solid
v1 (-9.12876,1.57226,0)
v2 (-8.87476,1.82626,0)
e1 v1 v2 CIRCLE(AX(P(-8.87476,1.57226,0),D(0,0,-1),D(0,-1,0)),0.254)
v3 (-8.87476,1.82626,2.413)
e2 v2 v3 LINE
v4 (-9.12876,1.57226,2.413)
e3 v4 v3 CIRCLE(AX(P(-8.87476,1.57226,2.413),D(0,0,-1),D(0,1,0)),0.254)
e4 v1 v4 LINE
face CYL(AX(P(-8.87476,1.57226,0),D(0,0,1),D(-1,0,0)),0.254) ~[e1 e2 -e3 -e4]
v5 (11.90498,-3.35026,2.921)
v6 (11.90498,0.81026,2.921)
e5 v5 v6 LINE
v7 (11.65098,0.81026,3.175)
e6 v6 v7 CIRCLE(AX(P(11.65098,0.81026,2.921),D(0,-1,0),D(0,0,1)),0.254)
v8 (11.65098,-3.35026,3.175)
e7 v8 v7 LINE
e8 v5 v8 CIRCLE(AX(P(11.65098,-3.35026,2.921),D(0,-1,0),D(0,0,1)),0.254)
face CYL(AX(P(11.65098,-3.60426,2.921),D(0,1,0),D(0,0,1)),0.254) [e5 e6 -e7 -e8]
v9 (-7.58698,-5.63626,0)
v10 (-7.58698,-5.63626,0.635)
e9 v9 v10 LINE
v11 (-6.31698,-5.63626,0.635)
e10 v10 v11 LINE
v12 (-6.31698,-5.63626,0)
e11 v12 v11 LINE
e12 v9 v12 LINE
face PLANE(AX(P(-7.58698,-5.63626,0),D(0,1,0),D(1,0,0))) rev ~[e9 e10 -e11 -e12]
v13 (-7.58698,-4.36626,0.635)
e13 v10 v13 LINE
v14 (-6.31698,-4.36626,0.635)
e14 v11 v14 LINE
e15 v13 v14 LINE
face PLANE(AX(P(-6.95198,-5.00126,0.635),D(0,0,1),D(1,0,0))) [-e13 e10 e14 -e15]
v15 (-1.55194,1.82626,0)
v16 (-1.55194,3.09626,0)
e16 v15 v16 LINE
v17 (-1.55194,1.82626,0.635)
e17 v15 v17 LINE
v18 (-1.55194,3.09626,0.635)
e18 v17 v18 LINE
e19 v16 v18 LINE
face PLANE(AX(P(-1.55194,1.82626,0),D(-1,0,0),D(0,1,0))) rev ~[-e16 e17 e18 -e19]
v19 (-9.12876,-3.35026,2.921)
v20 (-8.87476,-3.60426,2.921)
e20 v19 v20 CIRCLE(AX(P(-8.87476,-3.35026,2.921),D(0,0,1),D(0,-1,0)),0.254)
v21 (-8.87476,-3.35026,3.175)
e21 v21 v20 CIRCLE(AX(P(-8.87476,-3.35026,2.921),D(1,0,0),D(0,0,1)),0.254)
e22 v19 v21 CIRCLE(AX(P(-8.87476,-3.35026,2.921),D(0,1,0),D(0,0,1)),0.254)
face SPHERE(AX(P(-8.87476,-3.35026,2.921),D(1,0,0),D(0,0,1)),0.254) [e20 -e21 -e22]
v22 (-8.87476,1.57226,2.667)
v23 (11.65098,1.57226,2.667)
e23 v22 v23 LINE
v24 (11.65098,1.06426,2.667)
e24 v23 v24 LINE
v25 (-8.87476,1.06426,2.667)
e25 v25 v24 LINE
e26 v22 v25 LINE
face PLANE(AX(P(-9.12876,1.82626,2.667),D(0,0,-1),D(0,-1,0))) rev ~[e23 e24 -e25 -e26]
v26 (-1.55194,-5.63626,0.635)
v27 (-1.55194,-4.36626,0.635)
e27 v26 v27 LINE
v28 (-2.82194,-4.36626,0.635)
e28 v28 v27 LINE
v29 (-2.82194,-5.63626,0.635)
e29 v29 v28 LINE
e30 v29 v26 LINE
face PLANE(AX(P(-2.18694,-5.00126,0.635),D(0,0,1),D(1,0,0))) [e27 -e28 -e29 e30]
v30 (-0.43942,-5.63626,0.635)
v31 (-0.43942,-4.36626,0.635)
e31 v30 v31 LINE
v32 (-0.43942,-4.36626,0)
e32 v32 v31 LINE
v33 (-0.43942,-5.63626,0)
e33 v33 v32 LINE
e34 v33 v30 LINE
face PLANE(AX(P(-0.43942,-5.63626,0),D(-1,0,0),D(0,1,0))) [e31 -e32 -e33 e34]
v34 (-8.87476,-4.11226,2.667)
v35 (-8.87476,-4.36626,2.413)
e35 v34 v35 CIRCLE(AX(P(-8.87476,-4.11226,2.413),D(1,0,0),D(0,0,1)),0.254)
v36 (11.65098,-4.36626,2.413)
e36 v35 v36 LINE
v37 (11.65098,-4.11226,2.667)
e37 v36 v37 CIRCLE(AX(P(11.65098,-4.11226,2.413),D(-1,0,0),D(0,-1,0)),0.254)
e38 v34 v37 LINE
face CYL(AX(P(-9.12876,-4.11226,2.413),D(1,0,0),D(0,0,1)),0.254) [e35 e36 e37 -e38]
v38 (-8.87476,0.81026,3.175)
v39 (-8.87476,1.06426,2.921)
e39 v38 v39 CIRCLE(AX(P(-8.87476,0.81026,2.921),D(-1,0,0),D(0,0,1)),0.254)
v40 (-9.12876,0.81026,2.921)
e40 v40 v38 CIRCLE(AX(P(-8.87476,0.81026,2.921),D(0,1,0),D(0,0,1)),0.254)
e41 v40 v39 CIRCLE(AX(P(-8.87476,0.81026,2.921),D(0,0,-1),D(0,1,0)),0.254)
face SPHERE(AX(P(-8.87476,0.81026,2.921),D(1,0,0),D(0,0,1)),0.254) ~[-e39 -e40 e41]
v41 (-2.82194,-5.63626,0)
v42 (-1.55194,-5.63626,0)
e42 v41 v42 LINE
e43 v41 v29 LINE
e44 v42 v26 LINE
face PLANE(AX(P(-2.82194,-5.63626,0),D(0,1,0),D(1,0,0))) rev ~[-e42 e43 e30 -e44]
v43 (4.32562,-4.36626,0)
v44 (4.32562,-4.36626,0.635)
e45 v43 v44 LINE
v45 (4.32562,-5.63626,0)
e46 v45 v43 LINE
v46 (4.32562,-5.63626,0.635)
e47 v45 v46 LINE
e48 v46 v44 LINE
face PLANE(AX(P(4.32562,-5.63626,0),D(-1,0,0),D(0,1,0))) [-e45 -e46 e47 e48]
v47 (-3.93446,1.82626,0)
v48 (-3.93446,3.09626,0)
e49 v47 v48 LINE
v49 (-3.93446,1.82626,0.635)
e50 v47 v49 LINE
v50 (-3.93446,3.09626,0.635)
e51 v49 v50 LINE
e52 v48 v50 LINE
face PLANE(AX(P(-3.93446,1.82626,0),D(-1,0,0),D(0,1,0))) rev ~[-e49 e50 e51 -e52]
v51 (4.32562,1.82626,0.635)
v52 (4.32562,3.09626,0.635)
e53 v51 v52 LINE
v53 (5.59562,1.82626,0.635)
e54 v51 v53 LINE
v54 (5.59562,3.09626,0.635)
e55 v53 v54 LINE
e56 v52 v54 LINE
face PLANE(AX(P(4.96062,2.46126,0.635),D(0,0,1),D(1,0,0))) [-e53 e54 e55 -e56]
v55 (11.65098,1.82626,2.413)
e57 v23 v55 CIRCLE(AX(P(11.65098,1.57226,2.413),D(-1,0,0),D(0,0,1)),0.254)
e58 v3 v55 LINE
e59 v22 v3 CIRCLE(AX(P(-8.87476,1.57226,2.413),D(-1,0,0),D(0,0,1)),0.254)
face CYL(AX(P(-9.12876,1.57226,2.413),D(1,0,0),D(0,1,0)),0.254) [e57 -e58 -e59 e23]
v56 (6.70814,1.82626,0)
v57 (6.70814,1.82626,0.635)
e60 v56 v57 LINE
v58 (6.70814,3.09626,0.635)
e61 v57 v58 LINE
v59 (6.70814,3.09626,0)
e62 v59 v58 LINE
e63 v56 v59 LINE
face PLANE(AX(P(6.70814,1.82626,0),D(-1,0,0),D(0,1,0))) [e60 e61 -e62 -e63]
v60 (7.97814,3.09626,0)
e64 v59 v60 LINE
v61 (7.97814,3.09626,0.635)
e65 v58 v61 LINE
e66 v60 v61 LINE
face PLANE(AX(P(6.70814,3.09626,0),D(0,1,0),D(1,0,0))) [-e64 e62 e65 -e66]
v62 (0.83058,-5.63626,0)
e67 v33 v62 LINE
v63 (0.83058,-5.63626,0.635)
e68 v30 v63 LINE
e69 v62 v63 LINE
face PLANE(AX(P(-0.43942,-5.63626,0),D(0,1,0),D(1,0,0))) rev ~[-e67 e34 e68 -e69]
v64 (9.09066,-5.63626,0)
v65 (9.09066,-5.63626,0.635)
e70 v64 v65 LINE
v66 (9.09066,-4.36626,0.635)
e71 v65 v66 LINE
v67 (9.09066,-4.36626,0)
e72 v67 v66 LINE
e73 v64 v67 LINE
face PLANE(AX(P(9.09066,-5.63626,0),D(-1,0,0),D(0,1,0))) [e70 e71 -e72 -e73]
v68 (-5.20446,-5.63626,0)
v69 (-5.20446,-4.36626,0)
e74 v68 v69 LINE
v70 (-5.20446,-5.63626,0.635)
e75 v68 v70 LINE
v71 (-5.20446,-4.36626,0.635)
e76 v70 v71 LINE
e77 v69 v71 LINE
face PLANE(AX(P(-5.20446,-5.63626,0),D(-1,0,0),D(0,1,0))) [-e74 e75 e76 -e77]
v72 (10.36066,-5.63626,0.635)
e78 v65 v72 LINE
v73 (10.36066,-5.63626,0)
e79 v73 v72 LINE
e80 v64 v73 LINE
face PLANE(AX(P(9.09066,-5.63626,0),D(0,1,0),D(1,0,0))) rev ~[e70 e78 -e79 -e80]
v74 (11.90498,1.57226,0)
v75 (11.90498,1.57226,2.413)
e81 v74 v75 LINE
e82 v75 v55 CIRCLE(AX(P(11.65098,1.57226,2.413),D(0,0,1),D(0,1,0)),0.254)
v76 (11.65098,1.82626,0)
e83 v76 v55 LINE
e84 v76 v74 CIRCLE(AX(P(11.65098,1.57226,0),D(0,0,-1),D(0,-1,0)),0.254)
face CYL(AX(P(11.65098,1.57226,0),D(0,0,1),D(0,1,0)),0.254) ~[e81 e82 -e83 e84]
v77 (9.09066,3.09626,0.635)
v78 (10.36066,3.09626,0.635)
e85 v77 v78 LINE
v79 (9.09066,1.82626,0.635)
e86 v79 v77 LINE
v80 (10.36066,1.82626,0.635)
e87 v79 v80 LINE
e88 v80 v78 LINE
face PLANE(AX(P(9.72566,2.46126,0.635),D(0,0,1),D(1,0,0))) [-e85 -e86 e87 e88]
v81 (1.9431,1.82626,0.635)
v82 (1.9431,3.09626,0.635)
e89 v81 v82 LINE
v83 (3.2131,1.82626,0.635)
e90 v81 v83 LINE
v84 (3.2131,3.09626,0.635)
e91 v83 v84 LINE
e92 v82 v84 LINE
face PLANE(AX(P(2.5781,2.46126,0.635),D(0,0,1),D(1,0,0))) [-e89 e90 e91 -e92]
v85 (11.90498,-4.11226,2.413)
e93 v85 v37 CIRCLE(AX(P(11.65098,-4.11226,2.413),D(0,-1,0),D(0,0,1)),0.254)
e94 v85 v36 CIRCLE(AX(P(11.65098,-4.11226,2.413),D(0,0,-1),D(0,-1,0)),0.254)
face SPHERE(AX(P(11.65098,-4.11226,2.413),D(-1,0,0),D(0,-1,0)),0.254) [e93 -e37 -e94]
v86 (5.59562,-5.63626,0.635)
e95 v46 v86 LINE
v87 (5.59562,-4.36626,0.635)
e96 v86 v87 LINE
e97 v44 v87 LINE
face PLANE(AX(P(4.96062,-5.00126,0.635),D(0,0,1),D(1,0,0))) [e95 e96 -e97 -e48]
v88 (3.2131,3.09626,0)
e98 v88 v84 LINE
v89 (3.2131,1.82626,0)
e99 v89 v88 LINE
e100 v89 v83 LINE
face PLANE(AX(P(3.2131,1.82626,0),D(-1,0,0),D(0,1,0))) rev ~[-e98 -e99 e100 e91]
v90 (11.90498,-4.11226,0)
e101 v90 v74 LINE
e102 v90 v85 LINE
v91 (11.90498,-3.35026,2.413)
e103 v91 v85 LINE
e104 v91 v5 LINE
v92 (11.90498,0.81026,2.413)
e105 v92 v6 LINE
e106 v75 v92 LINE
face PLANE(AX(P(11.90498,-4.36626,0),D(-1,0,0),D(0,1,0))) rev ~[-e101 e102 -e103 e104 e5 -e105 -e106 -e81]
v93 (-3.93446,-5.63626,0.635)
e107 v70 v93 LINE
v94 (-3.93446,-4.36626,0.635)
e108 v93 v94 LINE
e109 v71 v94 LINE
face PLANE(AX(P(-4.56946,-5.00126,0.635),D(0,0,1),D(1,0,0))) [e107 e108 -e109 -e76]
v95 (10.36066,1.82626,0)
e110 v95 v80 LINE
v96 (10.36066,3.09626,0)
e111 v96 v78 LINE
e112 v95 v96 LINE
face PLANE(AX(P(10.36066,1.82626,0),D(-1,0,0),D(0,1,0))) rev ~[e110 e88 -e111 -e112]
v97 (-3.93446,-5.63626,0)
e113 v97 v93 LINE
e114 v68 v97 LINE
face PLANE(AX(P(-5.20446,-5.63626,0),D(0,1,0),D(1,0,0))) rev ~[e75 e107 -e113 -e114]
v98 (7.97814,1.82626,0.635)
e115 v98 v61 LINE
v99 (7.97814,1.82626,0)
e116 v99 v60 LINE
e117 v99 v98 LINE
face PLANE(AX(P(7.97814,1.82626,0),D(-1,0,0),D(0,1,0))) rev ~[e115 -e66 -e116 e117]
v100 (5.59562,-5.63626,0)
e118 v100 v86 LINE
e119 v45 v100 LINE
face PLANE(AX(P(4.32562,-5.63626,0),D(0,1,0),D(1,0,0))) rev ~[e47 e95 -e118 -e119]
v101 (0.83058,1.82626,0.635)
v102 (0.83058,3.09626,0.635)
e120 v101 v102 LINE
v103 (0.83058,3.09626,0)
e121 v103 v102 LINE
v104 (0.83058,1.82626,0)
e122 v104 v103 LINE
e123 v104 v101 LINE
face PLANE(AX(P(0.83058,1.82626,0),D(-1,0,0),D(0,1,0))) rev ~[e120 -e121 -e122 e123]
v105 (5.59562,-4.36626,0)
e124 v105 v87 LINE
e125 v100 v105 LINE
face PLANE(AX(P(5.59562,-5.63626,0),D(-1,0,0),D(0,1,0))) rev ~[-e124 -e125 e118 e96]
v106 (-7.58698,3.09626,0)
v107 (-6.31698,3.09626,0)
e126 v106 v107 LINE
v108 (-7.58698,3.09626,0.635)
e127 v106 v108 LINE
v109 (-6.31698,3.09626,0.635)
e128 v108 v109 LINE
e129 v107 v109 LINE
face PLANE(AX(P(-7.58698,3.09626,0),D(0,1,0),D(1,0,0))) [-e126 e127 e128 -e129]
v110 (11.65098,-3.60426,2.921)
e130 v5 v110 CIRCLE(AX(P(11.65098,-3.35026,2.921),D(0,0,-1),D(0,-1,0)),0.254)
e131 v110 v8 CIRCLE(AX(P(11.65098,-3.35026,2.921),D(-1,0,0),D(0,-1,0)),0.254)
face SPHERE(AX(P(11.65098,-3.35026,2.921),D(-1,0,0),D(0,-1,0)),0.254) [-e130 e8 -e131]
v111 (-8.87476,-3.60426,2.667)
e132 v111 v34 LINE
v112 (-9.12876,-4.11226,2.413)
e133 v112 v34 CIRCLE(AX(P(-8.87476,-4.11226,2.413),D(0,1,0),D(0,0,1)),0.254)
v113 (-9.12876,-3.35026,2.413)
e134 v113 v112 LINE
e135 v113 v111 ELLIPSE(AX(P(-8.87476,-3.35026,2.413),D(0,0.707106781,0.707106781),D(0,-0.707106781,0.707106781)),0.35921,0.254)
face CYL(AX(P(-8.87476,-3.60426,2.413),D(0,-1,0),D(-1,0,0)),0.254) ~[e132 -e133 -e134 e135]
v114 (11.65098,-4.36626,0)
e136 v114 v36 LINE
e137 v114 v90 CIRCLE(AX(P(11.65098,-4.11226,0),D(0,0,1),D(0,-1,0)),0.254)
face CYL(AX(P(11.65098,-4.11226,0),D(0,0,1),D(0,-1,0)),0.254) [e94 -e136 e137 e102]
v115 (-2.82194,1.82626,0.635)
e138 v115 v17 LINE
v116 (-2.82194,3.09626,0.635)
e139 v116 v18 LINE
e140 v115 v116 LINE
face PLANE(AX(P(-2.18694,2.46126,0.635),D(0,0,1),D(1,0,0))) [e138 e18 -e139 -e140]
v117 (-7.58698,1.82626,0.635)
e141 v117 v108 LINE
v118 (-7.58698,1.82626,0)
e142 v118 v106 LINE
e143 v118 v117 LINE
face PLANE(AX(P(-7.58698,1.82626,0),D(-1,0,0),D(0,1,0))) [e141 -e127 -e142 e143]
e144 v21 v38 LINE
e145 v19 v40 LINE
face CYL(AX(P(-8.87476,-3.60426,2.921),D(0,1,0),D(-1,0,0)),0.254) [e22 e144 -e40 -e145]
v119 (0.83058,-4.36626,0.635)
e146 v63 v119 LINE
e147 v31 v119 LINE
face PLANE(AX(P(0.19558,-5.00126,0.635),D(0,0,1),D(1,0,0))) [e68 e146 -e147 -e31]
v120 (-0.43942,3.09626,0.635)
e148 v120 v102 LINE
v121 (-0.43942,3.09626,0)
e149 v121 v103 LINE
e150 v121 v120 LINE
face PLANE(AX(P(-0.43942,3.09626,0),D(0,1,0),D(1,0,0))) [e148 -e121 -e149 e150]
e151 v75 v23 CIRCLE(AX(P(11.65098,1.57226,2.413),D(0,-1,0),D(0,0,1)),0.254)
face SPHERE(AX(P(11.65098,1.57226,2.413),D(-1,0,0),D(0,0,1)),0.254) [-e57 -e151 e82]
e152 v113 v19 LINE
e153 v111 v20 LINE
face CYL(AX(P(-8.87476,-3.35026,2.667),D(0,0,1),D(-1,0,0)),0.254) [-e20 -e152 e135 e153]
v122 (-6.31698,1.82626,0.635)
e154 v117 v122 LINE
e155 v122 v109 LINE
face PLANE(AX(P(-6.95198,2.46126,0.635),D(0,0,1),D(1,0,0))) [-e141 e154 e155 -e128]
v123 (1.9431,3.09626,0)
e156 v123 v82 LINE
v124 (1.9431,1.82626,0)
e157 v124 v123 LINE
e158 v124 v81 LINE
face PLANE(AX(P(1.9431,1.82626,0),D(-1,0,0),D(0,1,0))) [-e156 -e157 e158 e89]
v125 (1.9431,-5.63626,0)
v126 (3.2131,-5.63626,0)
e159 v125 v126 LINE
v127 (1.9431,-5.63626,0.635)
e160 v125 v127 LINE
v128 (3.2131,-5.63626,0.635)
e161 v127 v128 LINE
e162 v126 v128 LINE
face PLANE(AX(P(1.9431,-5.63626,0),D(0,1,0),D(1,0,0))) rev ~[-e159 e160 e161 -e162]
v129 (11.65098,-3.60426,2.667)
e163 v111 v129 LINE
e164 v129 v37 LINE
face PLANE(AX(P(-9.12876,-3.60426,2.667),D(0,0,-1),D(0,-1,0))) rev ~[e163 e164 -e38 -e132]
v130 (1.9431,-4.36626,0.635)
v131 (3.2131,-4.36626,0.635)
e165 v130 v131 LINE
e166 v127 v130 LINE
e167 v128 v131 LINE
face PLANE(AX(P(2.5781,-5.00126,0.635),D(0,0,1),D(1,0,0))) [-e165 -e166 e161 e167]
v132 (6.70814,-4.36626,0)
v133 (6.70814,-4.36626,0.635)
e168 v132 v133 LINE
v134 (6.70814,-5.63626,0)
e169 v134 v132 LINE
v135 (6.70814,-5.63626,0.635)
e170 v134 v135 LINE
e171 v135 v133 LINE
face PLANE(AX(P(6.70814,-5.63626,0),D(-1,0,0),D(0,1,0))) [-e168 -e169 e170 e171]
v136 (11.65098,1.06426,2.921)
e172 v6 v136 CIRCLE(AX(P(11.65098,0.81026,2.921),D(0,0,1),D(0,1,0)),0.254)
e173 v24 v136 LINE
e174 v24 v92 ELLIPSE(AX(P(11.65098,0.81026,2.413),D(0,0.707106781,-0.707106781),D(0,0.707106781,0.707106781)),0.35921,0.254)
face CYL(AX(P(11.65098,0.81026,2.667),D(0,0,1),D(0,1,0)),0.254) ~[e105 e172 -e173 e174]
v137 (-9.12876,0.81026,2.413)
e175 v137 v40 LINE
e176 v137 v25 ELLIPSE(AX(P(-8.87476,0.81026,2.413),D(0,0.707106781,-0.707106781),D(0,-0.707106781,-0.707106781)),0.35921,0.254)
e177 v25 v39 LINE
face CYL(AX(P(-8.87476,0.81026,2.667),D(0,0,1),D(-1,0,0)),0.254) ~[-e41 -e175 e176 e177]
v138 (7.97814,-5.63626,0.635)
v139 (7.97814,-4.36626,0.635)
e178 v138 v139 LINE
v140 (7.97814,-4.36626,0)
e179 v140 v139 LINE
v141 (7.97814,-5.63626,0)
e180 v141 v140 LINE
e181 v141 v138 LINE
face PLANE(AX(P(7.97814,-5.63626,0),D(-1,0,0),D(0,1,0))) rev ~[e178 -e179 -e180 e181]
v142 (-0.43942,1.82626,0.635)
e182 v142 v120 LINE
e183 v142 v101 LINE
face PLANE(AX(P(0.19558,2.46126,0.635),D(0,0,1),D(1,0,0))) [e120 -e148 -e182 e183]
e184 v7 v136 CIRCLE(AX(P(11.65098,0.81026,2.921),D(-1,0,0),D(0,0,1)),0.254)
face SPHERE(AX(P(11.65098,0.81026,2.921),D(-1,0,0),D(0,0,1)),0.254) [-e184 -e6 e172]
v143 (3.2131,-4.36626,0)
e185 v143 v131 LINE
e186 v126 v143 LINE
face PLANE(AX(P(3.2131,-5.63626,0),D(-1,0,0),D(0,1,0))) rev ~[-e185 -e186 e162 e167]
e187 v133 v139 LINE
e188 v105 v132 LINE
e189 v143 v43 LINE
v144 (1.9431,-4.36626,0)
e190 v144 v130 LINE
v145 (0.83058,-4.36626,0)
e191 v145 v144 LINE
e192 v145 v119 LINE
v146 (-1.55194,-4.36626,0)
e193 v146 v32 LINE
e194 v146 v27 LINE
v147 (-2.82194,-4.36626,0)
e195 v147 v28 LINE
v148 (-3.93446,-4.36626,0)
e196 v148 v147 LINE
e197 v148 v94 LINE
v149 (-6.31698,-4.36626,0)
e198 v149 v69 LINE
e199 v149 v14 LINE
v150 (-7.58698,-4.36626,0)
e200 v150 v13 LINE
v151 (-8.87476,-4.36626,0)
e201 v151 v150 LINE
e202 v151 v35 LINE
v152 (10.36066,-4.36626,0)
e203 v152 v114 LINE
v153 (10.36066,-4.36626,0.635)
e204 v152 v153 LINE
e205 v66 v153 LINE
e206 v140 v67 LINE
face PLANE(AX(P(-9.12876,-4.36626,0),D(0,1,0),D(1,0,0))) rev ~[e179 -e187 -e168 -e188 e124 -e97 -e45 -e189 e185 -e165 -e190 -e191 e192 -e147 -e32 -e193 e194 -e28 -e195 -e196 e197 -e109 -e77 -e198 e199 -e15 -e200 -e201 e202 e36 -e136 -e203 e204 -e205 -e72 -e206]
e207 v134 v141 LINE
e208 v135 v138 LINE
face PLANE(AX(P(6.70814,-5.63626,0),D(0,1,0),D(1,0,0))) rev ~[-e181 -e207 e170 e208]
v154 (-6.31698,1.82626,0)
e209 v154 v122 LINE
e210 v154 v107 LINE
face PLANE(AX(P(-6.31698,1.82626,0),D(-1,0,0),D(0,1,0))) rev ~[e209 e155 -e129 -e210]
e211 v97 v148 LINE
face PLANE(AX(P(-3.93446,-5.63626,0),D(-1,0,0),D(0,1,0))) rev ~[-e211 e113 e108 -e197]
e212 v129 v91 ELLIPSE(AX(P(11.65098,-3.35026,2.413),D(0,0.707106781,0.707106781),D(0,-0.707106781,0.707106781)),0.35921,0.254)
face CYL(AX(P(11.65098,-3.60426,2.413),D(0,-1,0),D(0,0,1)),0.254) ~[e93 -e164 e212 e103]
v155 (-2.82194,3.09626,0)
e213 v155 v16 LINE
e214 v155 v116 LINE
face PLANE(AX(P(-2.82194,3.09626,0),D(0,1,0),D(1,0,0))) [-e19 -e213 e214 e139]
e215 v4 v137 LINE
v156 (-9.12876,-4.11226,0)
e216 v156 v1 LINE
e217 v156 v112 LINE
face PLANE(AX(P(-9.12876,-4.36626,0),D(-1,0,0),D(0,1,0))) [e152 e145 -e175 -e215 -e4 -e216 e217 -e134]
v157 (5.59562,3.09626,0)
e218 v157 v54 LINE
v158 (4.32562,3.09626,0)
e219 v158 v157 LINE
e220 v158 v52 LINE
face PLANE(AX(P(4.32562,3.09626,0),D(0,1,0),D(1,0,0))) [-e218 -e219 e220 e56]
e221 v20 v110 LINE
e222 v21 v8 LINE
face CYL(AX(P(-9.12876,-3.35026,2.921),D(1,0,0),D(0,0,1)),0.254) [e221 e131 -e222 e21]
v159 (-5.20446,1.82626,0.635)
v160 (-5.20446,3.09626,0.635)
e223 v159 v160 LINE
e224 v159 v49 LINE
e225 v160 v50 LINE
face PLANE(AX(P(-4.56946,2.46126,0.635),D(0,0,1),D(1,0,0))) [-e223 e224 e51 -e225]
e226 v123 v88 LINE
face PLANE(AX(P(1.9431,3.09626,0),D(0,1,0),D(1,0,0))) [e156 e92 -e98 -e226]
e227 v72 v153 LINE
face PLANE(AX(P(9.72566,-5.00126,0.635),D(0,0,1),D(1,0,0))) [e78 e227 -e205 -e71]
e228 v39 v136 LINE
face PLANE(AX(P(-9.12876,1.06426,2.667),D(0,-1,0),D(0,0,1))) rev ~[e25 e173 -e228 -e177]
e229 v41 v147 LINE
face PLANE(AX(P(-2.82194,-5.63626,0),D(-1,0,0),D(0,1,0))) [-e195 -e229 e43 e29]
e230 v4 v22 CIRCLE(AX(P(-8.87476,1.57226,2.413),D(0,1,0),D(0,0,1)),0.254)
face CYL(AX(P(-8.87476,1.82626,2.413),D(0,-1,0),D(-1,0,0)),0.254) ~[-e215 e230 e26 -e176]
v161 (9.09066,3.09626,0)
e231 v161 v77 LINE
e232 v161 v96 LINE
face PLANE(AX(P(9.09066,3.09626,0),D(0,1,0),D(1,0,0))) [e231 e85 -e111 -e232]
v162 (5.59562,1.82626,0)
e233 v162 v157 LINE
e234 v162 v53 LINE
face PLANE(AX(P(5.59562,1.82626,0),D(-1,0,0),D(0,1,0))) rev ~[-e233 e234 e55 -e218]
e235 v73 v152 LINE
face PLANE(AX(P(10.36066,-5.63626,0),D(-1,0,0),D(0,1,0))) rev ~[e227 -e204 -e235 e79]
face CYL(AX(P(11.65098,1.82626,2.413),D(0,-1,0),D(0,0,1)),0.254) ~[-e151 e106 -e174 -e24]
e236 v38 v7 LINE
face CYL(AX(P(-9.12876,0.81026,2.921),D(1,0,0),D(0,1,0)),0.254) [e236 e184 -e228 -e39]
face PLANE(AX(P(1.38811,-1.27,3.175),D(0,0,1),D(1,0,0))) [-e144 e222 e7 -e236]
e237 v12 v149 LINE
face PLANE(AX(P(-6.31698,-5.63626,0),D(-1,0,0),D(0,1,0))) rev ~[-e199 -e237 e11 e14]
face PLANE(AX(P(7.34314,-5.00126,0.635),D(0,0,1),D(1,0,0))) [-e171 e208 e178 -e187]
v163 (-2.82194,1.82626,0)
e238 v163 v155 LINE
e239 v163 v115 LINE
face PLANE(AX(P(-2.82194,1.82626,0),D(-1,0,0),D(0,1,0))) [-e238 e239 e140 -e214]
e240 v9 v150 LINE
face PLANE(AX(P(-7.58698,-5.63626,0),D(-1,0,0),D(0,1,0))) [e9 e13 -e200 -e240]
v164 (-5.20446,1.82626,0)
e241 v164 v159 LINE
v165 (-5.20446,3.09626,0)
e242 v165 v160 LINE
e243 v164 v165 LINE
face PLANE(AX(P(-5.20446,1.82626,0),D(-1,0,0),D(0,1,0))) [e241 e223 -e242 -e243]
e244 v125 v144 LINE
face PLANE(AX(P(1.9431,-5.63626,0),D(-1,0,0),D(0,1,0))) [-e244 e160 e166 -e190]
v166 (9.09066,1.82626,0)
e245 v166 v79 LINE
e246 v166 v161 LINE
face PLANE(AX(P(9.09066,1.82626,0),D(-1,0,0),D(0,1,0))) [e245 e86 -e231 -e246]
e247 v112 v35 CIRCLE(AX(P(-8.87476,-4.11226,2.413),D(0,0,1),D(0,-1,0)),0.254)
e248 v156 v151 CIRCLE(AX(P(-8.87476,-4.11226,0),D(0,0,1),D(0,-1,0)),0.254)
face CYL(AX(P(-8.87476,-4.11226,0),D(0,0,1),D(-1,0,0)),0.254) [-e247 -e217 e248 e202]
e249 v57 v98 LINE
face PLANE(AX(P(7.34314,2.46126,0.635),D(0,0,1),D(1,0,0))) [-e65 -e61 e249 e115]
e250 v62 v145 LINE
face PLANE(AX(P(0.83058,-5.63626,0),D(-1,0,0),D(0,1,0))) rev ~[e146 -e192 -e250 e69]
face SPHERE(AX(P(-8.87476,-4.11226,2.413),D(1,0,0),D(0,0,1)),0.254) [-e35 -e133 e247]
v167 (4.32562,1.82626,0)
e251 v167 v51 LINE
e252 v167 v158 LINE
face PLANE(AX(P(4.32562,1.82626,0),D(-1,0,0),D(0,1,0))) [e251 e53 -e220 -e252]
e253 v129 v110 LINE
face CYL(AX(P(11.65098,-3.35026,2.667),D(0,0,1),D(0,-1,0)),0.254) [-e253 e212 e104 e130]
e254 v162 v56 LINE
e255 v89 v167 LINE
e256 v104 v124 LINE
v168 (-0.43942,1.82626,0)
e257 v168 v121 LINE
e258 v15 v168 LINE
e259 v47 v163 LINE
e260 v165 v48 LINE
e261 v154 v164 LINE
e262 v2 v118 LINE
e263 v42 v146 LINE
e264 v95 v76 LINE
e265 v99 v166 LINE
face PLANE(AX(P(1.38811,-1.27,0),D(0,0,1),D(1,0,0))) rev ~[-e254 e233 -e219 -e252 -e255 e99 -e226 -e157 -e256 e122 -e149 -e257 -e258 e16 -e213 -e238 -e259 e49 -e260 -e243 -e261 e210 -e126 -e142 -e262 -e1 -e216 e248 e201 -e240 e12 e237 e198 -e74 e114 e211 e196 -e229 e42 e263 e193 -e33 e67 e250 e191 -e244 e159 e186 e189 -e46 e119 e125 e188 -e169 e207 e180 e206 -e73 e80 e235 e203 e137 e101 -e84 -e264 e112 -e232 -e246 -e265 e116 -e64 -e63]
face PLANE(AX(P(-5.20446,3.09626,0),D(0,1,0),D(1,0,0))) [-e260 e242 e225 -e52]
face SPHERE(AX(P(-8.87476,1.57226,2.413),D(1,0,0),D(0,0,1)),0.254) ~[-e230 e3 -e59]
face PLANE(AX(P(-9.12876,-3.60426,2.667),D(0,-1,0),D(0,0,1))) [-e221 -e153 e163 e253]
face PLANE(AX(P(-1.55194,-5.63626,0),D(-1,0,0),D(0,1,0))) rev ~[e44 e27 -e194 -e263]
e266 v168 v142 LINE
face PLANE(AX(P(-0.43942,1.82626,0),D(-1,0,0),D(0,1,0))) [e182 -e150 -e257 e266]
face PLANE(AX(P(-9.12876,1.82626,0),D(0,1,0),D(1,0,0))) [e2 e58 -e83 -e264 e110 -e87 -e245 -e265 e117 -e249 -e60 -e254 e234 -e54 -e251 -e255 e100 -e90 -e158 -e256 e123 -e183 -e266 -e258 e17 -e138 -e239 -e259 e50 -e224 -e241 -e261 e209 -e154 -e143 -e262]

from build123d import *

# Parameters (mm, degrees)
F0_W     = 21.03374
F0_H     = 6.19252
F1_DEPTH = 3.175
F2_W     = 1.27
F2_H     = 1.27
F3_DEPTH = 0.635
F5_W     = 0.762
F5_H     = 0.508
F6_DEPTH = 25.4
F7_R     = 0.254


with BuildPart() as f1:
    # F0 (on Top) → F1 (new body)
    with BuildSketch(Plane.XY):
        with Locations((1.38811, -1.27)):
            Rectangle(F0_W, F0_H)
    extrude(amount=F1_DEPTH)

    # F2 (on Top) → F3 (join)
    with BuildSketch(Plane.XY):
        with Locations((-6.95198, 2.46126)):
            Rectangle(F2_W, F2_H)
        with Locations((-4.56946, 2.46126)):
            Rectangle(F2_W, F2_H)
        with Locations((-2.18694, 2.46126)):
            Rectangle(F2_W, F2_H)
        with Locations((0.19558, 2.46126)):
            Rectangle(F2_W, F2_H)
        with Locations((2.5781, 2.46126)):
            Rectangle(F2_W, F2_H)
        with Locations((4.96062, 2.46126)):
            Rectangle(F2_W, F2_H)
        with Locations((7.34314, 2.46126)):
            Rectangle(F2_W, F2_H)
        with Locations((-6.95198, -5.00126)):
            Rectangle(F2_W, F2_H)
        with Locations((-4.56946, -5.00126)):
            Rectangle(F2_W, F2_H)
        with Locations((-2.18694, -5.00126)):
            Rectangle(F2_W, F2_H)
        with Locations((0.19558, -5.00126)):
            Rectangle(F2_W, F2_H)
        with Locations((2.5781, -5.00126)):
            Rectangle(F2_W, F2_H)
        with Locations((4.96062, -5.00126)):
            Rectangle(F2_W, F2_H)
        with Locations((7.34314, -5.00126)):
            Rectangle(F2_W, F2_H)
        with Locations((9.72566, 2.46126)):
            Rectangle(F2_W, F2_H)
        with Locations((9.72566, -5.00126)):
            Rectangle(F2_W, F2_H)
    extrude(amount=F3_DEPTH)

    # F5 (on face) → F6 (cut)
    with BuildSketch(Plane(origin=(-9.12876, 0, 0), x_dir=(0, -1, 0), z_dir=(-1, 0, 0))):
        with Locations((-1.44526, 2.921)):
            Rectangle(F5_W, F5_H)
        with Locations((3.98526, 2.921)):
            Rectangle(F5_W, F5_H)
    extrude(amount=-F6_DEPTH, mode=Mode.SUBTRACT)

    # F7
    f7_edges = [f1.edges().sort_by_distance(p)[0] for p in [
        (1.38811, 1.82626, 2.667),
        (1.38811, 1.06426, 3.175),
        (1.38811, -3.60426, 3.175),
        (1.38811, -4.36626, 2.667),
        (-9.12876, -1.27, 3.175),
        (-9.12876, -3.60426, 2.921),
        (-9.12876, -3.98526, 2.667),
        (-9.12876, -4.36626, 1.3335),
        (-9.12876, 1.44526, 2.667),
        (-9.12876, 1.06426, 2.921),
        (-9.12876, 1.82626, 1.3335),
        (11.90498, -4.36626, 1.3335),
        (11.90498, -3.98526, 2.667),
        (11.90498, -3.60426, 2.921),
        (11.90498, -1.27, 3.175),
        (11.90498, 1.06426, 2.921),
        (11.90498, 1.44526, 2.667),
        (11.90498, 1.82626, 1.3335),
    ]]
    fillet(f7_edges, radius=F7_R)


solid = f1.part
